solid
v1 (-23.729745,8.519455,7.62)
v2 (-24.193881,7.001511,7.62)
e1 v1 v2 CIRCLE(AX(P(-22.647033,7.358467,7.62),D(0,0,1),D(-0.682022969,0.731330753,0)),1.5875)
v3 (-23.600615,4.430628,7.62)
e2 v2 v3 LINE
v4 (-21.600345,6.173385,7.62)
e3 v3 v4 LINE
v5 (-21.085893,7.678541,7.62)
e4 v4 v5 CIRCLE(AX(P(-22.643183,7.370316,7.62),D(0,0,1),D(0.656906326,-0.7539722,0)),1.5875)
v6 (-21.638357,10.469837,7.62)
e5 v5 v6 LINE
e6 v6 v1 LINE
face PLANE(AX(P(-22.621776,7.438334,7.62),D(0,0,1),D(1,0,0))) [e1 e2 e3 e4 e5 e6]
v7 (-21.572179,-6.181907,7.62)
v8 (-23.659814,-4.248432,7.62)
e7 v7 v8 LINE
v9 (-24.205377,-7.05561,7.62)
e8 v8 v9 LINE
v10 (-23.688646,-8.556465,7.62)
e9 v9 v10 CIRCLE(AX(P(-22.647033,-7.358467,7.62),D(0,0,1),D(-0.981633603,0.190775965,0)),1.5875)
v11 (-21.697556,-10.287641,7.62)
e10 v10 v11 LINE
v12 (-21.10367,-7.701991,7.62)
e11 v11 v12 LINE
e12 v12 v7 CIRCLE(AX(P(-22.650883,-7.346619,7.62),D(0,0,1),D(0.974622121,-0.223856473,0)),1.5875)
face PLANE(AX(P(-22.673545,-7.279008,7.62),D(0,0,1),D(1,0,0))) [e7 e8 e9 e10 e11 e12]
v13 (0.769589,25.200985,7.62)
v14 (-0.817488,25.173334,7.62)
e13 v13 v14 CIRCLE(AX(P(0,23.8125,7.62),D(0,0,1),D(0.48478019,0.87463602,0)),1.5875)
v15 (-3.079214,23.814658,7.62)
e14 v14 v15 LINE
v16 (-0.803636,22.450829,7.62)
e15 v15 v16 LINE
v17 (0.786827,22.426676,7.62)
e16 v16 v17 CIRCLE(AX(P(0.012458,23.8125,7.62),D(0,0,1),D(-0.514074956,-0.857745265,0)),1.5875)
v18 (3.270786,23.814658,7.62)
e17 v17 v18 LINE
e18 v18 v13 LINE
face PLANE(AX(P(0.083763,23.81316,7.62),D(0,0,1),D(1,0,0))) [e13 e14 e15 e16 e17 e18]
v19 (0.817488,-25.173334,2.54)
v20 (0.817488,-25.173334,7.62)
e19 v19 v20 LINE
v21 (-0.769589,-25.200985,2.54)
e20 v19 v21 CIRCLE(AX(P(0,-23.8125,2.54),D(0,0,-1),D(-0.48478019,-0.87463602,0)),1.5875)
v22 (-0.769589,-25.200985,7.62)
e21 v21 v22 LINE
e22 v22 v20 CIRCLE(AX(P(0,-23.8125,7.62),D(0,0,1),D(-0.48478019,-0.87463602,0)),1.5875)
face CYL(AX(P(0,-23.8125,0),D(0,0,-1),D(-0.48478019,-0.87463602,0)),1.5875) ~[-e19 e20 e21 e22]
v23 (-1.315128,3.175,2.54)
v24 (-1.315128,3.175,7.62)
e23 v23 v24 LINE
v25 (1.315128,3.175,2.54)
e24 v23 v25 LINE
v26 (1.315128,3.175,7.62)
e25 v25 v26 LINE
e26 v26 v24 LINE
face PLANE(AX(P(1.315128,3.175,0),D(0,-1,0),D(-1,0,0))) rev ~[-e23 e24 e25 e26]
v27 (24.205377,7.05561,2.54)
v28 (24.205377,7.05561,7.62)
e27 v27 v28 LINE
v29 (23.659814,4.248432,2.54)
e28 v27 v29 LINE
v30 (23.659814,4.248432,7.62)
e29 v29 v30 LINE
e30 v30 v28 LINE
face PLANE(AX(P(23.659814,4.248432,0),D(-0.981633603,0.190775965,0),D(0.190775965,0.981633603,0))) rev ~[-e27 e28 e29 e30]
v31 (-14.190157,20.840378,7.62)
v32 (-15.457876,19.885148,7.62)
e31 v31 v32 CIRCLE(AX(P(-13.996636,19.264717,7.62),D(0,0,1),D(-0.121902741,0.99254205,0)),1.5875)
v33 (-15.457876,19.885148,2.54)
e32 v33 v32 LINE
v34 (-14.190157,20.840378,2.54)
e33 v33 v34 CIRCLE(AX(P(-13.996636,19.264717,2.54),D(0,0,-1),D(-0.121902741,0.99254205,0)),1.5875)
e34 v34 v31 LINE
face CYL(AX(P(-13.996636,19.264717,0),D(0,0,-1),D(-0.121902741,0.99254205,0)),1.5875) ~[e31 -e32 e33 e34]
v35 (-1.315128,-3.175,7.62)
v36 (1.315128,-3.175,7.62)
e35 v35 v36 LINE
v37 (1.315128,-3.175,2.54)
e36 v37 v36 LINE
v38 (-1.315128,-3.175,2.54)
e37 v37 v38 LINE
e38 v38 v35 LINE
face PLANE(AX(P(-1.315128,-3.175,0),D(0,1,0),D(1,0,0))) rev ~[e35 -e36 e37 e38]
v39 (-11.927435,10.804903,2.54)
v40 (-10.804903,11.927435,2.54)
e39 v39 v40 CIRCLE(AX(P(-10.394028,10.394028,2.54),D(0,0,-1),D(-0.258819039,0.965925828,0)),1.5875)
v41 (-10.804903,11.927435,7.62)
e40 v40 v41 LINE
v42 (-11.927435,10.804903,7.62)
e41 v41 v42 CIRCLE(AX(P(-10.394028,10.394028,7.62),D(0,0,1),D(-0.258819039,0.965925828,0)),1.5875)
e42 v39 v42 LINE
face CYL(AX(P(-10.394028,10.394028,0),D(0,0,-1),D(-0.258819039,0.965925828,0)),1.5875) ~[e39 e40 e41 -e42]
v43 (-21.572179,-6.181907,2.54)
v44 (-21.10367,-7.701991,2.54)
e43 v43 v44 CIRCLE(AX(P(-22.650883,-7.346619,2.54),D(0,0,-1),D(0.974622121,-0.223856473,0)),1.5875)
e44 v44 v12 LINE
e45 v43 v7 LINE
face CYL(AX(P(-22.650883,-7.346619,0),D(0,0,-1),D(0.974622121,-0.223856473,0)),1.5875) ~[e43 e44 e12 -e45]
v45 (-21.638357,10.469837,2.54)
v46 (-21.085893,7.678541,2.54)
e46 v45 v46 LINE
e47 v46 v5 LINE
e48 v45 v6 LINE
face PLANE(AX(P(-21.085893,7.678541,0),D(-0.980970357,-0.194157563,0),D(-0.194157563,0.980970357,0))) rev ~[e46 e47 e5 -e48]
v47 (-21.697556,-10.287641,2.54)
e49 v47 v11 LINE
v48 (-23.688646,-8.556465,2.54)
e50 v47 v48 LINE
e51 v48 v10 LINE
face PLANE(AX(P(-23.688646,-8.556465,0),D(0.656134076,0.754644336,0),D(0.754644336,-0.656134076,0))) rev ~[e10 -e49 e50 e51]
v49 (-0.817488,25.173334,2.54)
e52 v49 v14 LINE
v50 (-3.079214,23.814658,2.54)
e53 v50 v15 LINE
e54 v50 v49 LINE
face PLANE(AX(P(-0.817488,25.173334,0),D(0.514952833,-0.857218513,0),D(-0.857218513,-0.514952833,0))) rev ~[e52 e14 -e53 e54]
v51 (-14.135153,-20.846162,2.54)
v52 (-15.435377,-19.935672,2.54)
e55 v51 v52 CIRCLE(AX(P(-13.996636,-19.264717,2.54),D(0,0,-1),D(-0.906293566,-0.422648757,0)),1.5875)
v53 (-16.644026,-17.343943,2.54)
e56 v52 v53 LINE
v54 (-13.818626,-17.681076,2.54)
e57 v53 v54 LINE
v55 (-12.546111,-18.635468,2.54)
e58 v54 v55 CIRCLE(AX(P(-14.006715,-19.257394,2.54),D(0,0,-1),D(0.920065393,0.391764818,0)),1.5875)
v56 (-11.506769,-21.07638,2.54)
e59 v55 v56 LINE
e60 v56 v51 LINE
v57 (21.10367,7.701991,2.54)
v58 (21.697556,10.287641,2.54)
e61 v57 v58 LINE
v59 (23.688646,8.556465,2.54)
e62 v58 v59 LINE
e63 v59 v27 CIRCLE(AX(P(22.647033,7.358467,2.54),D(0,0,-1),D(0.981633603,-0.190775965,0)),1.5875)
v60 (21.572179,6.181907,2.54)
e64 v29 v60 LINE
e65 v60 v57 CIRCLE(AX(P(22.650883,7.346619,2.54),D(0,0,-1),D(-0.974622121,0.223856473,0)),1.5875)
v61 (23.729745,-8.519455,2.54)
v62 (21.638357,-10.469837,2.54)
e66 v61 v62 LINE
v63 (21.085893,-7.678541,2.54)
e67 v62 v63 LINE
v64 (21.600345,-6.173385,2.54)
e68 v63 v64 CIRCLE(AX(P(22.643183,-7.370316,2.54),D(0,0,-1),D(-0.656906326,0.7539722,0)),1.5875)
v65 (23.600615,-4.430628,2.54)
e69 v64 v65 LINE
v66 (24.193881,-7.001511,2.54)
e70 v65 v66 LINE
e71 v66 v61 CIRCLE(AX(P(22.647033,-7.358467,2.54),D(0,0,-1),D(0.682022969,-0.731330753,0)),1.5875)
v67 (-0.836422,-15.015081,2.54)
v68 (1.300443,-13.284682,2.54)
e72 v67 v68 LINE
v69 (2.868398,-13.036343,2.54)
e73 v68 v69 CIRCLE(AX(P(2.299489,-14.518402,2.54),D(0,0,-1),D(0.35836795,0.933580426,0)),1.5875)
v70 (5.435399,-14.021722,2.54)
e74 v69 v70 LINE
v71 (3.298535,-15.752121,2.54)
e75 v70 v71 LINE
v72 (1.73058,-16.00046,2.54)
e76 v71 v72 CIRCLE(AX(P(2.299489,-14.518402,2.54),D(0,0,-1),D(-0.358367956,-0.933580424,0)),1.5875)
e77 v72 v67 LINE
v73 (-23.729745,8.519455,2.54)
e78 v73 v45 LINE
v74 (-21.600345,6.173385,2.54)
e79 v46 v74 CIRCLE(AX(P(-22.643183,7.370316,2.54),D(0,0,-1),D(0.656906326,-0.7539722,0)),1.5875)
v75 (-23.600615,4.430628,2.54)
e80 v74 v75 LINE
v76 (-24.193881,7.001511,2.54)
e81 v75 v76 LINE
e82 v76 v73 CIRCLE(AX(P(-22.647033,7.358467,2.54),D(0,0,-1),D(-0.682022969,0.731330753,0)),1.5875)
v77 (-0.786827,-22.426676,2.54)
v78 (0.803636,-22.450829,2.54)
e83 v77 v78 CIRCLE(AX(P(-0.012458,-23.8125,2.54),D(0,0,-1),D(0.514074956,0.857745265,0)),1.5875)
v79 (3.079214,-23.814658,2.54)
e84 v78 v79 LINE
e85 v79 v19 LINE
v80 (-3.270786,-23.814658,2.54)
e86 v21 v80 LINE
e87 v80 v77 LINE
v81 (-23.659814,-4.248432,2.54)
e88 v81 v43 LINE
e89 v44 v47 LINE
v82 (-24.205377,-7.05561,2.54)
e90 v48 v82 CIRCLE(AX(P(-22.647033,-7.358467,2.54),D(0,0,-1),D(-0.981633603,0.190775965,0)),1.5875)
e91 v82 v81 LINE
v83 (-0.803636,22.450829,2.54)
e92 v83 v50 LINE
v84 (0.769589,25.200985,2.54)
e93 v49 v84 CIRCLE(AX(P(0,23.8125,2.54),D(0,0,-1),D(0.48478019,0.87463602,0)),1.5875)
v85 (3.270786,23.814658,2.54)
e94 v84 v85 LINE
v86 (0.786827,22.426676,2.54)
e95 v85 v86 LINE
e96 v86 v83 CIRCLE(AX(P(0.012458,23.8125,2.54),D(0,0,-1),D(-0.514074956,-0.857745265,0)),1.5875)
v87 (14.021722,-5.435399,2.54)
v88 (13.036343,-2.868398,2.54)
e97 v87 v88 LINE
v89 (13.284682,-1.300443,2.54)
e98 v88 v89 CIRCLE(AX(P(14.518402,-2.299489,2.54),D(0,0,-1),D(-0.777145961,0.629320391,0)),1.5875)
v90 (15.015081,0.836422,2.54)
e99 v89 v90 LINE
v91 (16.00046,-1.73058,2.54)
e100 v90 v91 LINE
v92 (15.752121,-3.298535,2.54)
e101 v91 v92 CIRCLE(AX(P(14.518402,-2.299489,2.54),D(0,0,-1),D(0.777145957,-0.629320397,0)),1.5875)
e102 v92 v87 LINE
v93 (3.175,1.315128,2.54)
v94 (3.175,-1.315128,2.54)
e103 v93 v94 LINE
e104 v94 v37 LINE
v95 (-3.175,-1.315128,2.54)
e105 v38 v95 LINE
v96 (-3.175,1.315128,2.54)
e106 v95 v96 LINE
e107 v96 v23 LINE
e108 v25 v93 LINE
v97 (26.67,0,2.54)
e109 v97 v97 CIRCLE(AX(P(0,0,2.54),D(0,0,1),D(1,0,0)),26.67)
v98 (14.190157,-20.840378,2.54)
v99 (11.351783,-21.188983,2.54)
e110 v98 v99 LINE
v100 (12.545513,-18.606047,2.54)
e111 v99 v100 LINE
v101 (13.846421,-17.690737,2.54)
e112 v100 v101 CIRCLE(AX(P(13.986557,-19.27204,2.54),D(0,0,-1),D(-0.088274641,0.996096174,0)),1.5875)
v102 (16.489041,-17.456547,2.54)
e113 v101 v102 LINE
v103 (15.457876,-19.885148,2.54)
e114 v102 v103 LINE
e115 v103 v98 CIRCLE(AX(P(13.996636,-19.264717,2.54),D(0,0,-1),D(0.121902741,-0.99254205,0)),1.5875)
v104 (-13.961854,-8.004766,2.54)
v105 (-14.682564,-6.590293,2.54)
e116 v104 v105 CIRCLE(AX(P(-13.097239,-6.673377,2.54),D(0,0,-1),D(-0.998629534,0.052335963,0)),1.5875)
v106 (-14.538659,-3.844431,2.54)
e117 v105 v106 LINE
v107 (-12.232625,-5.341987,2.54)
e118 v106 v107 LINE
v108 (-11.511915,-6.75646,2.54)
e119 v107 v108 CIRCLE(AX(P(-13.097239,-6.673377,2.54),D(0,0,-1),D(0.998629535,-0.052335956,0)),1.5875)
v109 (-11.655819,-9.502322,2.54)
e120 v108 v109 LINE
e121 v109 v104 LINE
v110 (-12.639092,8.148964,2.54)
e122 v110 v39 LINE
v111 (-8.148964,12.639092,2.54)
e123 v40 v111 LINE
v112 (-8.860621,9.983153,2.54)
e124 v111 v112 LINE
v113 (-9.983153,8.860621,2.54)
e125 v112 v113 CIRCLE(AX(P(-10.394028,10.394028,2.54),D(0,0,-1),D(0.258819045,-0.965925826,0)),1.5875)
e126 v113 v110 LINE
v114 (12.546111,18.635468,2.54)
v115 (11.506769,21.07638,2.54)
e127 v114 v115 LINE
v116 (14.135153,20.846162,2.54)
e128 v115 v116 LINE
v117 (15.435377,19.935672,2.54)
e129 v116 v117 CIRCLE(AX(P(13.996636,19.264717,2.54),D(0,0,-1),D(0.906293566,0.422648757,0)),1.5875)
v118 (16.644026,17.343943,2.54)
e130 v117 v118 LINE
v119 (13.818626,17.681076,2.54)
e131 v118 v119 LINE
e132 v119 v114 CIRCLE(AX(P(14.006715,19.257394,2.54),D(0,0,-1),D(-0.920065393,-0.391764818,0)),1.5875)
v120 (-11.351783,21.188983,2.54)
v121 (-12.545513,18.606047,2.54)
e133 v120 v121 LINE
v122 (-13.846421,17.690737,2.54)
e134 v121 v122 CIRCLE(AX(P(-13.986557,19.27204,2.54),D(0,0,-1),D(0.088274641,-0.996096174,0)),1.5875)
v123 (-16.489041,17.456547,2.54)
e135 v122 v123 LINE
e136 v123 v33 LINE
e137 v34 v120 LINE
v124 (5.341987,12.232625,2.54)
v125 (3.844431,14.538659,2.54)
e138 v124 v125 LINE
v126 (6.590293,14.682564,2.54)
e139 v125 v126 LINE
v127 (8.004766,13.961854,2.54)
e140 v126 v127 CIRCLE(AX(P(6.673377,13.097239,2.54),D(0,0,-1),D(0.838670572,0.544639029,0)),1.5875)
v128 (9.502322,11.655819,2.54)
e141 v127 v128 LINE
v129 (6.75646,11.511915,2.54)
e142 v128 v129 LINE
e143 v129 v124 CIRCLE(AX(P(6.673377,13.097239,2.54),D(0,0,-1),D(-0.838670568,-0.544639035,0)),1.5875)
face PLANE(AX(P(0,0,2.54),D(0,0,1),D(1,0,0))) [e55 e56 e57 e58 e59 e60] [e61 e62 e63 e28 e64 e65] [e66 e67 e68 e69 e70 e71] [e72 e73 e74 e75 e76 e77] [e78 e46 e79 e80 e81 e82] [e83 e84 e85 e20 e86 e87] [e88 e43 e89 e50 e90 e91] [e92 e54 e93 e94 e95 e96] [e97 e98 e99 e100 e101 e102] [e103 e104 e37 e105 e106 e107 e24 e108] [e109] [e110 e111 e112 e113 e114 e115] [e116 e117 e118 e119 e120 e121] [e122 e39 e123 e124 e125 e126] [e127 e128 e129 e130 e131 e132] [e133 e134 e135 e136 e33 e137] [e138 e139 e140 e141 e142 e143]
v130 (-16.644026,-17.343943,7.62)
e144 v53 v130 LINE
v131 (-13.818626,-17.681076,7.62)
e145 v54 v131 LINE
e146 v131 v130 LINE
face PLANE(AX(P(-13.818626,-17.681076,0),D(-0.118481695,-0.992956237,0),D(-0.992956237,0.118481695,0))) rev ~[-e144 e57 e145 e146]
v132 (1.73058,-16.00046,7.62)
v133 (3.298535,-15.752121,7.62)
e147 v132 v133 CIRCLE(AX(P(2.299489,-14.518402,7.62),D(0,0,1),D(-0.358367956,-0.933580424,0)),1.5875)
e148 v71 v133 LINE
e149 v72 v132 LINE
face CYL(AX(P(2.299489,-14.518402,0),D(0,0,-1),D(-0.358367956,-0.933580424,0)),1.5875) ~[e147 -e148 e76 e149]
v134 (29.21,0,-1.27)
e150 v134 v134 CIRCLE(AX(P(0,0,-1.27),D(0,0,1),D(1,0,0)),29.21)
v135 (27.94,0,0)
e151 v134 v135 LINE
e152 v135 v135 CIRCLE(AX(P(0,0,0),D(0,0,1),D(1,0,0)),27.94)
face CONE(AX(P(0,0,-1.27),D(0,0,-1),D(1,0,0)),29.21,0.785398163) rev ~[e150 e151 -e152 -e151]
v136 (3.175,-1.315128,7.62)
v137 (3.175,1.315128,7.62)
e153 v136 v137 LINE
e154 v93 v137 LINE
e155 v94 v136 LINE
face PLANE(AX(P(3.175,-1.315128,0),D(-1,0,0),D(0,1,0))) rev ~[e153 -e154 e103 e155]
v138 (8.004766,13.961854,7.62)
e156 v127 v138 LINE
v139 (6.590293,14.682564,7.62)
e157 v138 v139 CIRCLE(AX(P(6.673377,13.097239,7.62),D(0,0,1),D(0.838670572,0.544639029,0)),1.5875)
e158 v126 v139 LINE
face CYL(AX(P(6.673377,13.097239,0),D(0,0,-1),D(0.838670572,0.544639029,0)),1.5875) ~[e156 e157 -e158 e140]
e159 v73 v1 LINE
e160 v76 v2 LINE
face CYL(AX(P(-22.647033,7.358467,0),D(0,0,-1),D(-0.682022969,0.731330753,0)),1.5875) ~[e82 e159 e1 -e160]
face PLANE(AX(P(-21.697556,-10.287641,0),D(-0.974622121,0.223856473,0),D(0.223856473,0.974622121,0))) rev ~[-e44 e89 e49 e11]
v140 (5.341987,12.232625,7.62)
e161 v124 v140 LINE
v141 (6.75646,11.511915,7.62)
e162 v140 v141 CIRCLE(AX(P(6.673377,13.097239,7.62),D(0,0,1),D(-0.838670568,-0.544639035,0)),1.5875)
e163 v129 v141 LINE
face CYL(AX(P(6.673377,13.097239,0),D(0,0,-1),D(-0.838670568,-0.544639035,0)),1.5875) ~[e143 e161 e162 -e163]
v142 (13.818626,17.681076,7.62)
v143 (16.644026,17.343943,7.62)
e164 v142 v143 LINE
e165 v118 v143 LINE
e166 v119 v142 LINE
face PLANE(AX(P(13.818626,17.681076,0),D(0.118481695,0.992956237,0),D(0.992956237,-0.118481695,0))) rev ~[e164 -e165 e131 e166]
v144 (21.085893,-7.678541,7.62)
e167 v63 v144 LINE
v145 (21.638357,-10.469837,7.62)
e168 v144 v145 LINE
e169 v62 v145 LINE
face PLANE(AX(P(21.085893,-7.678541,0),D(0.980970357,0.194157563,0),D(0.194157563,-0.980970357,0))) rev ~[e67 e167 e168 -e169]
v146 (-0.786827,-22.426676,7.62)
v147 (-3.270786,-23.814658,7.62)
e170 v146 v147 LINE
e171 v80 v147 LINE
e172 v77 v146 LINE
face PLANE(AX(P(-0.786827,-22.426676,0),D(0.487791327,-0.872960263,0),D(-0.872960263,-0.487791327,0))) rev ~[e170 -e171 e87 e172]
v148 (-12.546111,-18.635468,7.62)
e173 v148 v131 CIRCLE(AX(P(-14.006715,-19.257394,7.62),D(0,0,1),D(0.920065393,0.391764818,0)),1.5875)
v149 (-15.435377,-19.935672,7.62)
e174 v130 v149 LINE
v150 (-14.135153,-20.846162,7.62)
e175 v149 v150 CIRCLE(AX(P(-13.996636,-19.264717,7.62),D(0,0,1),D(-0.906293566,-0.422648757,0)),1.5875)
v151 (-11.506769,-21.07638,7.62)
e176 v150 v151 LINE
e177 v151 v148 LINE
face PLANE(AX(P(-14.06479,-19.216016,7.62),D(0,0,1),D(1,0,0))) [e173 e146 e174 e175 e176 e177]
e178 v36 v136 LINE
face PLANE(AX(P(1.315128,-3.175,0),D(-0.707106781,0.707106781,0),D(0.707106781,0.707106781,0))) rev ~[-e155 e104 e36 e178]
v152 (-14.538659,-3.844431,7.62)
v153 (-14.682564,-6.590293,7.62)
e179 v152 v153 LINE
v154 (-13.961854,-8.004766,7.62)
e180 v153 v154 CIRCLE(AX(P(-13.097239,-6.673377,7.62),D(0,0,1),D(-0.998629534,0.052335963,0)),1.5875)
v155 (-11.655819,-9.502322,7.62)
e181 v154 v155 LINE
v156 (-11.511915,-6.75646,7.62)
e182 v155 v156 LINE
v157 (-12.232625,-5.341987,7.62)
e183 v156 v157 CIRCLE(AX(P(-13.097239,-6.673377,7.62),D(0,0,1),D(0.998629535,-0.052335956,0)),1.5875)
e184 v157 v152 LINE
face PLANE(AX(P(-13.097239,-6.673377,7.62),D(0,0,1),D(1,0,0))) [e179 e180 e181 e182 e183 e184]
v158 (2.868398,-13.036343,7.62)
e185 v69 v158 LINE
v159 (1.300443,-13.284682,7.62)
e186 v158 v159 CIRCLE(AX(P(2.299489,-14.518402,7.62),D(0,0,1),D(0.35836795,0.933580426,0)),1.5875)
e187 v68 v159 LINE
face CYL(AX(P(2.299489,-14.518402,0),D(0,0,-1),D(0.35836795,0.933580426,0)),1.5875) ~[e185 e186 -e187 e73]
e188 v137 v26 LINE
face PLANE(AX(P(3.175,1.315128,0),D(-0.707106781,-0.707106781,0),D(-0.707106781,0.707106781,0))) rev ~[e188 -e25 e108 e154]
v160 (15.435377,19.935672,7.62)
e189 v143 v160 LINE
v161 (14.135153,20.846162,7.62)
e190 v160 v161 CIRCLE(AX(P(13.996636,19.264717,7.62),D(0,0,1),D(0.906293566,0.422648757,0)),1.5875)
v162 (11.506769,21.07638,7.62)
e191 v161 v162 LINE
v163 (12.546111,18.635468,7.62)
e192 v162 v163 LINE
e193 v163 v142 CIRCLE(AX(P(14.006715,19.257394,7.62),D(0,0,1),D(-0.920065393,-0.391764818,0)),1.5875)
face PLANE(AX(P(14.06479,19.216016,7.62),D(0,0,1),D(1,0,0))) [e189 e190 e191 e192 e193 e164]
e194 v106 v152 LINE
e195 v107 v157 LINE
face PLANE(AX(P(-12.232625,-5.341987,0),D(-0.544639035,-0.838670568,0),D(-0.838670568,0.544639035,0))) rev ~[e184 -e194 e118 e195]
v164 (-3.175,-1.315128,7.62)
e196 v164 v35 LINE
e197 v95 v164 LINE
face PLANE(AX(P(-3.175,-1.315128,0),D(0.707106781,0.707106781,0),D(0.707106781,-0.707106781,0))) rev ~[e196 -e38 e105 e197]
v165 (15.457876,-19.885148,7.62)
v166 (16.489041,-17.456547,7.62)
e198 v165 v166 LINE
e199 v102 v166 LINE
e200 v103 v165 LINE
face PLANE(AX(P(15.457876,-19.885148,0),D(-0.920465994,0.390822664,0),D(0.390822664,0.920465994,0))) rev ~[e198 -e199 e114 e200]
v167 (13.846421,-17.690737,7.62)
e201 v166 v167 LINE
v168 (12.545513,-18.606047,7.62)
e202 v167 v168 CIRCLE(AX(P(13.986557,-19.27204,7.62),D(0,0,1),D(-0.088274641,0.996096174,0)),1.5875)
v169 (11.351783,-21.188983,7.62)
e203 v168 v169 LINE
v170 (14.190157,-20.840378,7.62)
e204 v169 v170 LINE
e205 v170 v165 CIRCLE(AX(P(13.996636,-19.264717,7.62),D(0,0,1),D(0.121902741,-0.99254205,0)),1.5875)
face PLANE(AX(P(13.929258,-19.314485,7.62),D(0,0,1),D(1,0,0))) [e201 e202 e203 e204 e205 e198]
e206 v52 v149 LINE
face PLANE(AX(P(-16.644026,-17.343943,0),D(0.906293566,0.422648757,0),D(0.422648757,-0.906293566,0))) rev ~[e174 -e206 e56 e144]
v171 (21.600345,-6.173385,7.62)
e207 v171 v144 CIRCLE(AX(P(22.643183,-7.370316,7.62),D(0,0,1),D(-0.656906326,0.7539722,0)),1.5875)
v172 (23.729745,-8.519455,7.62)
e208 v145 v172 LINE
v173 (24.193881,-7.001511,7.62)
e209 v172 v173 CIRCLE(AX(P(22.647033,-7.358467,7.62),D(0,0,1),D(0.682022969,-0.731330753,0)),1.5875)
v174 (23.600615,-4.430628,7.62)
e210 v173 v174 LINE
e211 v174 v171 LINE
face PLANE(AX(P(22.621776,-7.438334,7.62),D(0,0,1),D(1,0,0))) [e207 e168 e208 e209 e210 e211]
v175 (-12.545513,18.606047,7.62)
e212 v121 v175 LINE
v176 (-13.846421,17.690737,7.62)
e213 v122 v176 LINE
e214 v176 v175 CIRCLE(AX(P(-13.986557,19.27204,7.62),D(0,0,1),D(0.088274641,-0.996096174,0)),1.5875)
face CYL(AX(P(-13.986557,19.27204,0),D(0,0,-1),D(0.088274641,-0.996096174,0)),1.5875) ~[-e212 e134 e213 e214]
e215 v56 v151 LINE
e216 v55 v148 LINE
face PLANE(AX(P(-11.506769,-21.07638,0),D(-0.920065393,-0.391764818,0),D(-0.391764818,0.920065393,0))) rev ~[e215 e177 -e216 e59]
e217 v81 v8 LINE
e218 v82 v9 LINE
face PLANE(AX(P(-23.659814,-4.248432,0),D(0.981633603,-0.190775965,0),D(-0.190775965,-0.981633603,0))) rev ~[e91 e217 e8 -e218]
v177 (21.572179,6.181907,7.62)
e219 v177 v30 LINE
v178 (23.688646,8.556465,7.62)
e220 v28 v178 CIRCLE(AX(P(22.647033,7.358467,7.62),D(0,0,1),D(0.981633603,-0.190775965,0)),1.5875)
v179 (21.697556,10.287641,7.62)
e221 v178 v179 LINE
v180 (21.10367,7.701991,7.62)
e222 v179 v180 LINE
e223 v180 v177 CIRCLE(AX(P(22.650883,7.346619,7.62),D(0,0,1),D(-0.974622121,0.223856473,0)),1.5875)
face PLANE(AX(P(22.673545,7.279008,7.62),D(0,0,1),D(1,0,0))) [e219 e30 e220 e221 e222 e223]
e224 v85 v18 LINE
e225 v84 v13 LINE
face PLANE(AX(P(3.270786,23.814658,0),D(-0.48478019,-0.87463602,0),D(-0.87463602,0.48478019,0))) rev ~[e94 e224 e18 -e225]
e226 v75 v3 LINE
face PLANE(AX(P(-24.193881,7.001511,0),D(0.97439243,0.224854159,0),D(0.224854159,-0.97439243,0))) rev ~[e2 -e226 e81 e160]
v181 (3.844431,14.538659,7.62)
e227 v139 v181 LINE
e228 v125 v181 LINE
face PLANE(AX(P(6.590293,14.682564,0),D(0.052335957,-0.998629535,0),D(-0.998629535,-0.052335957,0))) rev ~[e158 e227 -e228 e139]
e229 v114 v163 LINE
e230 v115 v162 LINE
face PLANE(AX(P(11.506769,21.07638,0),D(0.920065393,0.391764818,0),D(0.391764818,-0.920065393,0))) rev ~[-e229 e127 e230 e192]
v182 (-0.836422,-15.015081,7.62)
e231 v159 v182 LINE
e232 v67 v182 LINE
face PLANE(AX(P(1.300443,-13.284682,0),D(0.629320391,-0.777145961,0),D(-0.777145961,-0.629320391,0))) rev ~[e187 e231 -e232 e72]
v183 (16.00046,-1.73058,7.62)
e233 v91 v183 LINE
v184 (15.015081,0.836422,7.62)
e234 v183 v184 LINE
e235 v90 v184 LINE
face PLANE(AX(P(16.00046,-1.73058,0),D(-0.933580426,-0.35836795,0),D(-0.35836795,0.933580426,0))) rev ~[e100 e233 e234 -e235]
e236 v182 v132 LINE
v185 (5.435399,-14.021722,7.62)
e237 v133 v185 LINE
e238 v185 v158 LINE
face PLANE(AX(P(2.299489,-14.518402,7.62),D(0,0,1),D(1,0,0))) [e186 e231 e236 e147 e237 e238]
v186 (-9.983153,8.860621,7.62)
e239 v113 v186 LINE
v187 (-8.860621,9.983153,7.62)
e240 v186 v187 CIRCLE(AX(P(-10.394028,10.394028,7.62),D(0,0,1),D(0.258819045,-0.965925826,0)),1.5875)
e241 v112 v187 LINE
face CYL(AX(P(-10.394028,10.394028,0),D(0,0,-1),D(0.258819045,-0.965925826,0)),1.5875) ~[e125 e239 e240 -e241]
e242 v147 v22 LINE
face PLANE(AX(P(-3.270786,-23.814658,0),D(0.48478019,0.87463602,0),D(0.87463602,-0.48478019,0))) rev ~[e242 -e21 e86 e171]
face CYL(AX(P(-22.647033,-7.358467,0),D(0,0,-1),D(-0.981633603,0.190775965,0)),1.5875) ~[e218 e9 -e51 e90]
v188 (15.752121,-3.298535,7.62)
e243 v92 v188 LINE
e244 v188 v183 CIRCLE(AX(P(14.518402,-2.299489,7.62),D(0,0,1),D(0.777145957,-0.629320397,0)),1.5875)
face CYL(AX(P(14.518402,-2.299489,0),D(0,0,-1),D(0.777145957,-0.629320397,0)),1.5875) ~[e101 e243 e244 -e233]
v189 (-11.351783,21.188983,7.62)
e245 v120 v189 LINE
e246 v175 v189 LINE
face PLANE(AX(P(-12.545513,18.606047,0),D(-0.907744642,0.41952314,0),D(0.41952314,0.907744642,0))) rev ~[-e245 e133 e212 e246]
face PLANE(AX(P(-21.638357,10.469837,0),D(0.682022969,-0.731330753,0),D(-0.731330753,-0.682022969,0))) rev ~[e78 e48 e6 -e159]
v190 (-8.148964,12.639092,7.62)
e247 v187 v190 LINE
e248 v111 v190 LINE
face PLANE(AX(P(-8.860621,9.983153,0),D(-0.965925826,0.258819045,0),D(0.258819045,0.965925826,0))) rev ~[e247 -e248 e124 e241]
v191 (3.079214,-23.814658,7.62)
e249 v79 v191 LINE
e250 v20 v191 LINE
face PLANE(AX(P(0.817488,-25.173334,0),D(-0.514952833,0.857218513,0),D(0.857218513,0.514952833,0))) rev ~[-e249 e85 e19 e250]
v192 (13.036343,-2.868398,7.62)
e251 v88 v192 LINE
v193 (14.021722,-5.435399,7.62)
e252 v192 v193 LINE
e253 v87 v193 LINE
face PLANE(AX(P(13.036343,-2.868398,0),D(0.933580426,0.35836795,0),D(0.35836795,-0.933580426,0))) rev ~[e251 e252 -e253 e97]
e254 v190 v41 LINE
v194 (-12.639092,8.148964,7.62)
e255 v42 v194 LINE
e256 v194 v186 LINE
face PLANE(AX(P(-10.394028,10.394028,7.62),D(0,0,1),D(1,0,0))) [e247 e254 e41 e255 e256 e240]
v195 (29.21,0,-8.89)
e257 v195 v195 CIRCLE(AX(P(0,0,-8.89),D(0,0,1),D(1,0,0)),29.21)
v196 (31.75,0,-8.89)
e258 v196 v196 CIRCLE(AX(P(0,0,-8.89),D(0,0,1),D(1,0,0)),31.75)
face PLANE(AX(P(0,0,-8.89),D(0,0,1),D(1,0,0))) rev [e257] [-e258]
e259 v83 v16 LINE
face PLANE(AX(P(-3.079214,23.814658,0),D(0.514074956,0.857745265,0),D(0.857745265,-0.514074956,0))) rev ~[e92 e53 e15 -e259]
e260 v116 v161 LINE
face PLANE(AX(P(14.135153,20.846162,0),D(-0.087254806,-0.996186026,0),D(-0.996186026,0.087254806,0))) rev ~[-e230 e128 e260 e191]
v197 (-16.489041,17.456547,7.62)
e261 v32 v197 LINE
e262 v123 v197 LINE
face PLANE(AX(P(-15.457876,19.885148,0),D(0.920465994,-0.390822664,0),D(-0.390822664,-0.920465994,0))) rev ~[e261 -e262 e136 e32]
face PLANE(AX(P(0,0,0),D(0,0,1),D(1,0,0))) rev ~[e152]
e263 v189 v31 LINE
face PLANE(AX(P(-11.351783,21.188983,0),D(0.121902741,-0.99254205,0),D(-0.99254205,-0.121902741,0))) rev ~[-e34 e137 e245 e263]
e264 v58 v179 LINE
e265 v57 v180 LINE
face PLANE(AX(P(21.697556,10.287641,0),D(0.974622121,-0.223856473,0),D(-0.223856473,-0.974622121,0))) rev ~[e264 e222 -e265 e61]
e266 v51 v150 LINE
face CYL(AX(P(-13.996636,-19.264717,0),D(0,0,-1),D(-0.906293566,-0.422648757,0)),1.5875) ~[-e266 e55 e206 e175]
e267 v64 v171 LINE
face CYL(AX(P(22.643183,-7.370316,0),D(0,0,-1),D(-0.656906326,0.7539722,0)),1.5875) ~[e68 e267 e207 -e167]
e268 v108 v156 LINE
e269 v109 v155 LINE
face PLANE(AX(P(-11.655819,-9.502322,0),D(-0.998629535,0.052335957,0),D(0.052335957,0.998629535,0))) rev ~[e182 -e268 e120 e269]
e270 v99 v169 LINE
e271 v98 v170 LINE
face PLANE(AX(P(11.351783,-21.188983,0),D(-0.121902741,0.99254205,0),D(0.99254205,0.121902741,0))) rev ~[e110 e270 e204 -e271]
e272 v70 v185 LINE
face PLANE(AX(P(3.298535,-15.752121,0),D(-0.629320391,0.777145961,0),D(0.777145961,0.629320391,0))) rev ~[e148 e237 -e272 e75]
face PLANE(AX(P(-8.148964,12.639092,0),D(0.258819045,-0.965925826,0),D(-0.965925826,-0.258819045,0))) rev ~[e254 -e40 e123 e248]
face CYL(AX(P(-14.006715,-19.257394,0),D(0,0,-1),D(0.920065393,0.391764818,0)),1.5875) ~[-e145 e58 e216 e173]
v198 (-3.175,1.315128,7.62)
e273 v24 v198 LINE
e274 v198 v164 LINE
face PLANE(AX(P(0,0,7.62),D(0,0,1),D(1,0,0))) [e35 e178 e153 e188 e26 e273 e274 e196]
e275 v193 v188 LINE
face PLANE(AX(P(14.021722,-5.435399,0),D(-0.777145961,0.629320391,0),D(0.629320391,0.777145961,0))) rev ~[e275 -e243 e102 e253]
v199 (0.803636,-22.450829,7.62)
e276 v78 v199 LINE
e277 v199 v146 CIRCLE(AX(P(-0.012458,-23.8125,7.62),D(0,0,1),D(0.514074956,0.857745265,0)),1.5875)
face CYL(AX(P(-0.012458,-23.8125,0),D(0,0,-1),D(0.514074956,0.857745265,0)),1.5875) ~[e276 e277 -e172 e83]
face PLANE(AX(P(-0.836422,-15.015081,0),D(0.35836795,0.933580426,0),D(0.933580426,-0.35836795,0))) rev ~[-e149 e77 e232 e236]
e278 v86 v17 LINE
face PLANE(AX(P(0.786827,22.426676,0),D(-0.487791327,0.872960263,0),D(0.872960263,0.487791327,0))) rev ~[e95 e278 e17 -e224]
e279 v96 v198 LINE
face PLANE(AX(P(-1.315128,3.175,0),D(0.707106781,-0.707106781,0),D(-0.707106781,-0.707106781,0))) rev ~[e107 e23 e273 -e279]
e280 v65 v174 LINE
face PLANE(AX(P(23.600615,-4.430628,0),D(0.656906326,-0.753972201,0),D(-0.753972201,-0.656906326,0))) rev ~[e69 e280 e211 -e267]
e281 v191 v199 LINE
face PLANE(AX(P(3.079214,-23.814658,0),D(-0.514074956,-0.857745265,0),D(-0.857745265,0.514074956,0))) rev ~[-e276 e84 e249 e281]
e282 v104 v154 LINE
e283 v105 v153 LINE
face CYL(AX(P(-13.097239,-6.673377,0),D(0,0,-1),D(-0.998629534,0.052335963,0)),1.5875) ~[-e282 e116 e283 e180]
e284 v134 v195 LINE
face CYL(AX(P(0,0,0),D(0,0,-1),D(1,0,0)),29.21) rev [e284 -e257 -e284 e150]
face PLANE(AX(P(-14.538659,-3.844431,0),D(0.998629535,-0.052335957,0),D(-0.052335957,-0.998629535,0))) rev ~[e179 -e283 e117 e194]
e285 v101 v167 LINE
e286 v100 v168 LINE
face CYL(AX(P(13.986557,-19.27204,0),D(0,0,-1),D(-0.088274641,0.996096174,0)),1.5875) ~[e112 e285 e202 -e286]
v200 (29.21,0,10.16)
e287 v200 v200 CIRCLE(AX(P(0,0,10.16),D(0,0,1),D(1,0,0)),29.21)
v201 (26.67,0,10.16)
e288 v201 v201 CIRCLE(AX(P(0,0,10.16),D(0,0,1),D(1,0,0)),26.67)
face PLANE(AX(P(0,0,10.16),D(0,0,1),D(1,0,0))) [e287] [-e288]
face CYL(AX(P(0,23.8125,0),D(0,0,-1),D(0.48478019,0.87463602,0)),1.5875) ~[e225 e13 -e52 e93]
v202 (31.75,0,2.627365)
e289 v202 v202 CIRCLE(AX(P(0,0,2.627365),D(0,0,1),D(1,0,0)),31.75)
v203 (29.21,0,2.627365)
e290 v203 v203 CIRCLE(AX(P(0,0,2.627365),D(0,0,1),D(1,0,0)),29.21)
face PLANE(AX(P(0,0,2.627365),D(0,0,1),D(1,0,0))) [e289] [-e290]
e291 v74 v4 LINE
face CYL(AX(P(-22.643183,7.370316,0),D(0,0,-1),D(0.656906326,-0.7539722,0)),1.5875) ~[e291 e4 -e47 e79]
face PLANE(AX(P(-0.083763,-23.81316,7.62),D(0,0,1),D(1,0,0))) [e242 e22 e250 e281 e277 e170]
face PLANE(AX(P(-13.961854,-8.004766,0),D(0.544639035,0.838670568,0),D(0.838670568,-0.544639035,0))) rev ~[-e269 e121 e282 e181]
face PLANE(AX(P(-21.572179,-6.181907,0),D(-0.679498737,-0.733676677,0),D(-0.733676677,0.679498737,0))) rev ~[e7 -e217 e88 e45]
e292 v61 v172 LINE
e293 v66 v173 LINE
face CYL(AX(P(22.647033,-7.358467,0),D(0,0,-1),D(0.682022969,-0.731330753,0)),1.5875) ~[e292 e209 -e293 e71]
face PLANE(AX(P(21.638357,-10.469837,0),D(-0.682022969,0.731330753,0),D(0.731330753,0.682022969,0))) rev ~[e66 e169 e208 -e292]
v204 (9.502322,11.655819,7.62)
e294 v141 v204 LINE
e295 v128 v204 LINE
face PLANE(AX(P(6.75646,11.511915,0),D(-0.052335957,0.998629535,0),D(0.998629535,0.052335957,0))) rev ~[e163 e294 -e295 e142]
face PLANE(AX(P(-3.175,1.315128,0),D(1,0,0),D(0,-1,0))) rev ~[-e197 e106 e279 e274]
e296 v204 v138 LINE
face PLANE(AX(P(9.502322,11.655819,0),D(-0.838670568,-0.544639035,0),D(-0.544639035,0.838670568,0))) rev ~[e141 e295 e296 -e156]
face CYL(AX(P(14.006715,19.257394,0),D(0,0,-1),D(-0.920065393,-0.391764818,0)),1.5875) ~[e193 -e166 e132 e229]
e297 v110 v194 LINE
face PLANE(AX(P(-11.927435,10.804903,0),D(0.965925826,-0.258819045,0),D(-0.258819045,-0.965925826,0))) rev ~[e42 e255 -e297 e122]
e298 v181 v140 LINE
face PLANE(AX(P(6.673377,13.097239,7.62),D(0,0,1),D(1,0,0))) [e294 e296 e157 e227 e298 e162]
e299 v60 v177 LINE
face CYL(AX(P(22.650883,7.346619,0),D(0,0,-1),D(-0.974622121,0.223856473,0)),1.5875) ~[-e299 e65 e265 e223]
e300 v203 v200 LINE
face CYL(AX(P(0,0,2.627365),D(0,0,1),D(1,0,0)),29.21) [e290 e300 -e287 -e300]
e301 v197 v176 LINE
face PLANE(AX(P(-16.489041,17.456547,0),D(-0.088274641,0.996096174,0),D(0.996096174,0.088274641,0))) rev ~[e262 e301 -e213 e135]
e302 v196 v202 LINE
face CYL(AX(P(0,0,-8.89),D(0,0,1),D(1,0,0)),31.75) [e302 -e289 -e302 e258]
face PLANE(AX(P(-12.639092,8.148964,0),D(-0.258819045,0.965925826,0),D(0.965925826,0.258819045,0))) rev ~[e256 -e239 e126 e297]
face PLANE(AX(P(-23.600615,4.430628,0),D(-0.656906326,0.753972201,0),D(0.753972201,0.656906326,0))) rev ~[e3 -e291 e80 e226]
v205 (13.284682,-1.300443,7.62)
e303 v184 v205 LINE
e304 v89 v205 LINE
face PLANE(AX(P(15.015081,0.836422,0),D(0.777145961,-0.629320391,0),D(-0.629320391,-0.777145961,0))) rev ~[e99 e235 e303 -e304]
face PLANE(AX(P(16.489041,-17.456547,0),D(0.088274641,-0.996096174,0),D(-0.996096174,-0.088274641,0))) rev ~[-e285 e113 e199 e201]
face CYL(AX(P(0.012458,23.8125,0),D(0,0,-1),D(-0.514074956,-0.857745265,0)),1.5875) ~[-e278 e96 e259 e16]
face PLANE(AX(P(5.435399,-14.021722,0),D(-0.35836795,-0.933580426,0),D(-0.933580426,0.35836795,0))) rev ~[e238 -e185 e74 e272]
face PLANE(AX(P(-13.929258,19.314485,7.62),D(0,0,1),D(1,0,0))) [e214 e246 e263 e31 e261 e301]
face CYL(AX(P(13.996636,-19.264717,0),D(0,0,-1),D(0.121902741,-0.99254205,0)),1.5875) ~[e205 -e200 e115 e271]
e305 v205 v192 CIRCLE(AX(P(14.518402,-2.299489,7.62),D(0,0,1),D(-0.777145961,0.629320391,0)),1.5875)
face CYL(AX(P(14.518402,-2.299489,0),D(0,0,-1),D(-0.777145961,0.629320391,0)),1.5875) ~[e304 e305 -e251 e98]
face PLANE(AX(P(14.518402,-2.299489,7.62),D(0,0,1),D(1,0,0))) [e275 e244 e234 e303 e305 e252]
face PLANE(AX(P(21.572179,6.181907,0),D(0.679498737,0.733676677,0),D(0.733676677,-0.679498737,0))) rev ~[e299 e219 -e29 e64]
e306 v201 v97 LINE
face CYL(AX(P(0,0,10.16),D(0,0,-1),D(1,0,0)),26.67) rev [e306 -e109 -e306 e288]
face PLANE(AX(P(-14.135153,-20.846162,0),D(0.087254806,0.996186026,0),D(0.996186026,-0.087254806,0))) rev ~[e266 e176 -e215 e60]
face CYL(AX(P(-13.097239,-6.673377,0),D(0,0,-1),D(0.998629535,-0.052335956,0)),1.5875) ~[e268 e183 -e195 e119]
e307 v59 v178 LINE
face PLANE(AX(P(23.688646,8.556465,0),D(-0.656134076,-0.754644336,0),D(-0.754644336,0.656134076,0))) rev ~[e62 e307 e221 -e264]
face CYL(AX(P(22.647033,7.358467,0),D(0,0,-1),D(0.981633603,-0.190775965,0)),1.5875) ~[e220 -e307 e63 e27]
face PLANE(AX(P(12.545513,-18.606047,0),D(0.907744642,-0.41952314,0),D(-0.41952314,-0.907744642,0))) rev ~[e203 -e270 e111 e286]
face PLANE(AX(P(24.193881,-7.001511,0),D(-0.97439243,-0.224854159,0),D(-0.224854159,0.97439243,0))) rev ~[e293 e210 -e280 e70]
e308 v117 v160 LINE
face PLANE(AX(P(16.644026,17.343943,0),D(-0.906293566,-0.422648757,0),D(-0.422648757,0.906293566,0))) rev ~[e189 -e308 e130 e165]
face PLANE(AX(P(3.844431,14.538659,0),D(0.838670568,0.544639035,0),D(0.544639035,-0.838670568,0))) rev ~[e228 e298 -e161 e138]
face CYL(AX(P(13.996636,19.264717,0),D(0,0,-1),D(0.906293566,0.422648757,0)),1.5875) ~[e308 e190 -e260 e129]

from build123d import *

# Parameters (mm, degrees)
F3_DEPTH = 7.62
F4_DEPTH = 7.62
F5_SIZE2 = 1.27
F5_SIZE  = 1.27


with BuildPart() as f1:
    # F0 (on Front) → F1 (revolve)
    with BuildSketch(Plane.XZ):
        Polygon((0, 2.54), (0, 0), (29.21, 0), (29.21, -8.89), (31.75, -8.89), (31.75, 2.627364982), (29.21, 2.627364982), (29.21, 10.16), (26.67, 10.16), (26.67, 2.54), align=None)
    revolve(axis=Axis((0, 0, 16.0585250768), (0, 0, 1)))

    # F2 (on Top) → F3 (join)
    with BuildSketch(Plane.XY):
        Polygon((1.3151280605, 3.175), (-1.3151280605, 3.175), (-3.175, 1.3151280605), (-3.175, -1.3151280605), (-1.3151280605, -3.175), (1.3151280605, -3.175), (3.175, -1.3151280605), (3.175, 1.3151280605), align=None)
        with BuildLine():
            ThreePointArc((0.7695885521, 25.2009846814), (-0.0276534791, 25.3997591266), (-0.817487623, 25.1733343897))
            Line((-0.817487623, 25.1733343897), (-3.0792138768, 23.8146582472))
            Line((-3.0792138768, 23.8146582472), (-0.8036357163, 22.4508293919))
            ThreePointArc((-0.8036357163, 22.4508293919), (-0.0116477599, 22.2251830345), (0.786827008, 22.426675582))
            Line((0.786827008, 22.426675582), (3.2707861232, 23.8146582472))
            Line((3.2707861232, 23.8146582472), (0.7695885521, 25.2009846814))
        make_face()
        with BuildLine():
            Line((-12.5455127439, 18.6060469845), (-11.3517833474, 21.1889830838))
            Line((-11.3517833474, 21.1889830838), (-14.1901569216, 20.8403776835))
            ThreePointArc((-14.1901569216, 20.8403776835), (-14.951975961, 20.5325824793), (-15.457876085, 19.8851481576))
            Line((-15.457876085, 19.8851481576), (-16.4890412617, 17.4565467318))
            Line((-16.4890412617, 17.4565467318), (-13.8464213701, 17.6907372936))
            ThreePointArc((-13.8464213701, 17.6907372936), (-13.0730580529, 17.9737043965), (-12.5455127439, 18.6060469845))
        make_face()
        with BuildLine():
            Line((-21.085893034, 7.6785408353), (-21.6383574123, 10.4698365695))
            Line((-21.6383574123, 10.4698365695), (-23.729744757, 8.5194547489))
            ThreePointArc((-23.729744757, 8.5194547489), (-24.1651518247, 7.8226572017), (-24.1938812764, 7.0015112006))
            Line((-24.1938812764, 7.0015112006), (-23.6006153266, 4.430627691))
            Line((-23.6006153266, 4.430627691), (-21.600344683, 6.1733848352))
            ThreePointArc((-21.600344683, 6.1733848352), (-21.1410045066, 6.8568815828), (-21.085893034, 7.6785408353))
        make_face()
        with BuildLine():
            Line((-21.5721788682, -6.181906929), (-23.6598144064, -4.2484316577))
            Line((-23.6598144064, -4.2484316577), (-24.2053766396, -7.0556103342))
            ThreePointArc((-24.2053766396, -7.0556103342), (-24.1480610347, -7.8752572447), (-23.68864614, -8.5564650624))
            Line((-23.68864614, -8.5564650624), (-21.6975564921, -10.2876405362))
            Line((-21.6975564921, -10.2876405362), (-21.1036704958, -7.7019908046))
            ThreePointArc((-21.1036704958, -7.7019908046), (-21.133805795, -6.8790369387), (-21.5721788682, -6.181906929))
        make_face()
        with BuildLine():
            Line((-13.8186255861, -17.6810763618), (-16.6440264647, -17.3439433906))
            Line((-16.6440264647, -17.3439433906), (-15.4353773563, -19.935672081))
            ThreePointArc((-15.4353773563, -19.935672081), (-14.9072316919, -20.5650910937), (-14.1351533255, -20.8461624951))
            Line((-14.1351533255, -20.8461624951), (-11.5067685504, -21.0763797426))
            Line((-11.5067685504, -21.0763797426), (-12.5461114665, -18.6354677381))
            ThreePointArc((-12.5461114665, -18.6354677381), (-13.0542115814, -17.9873971595), (-13.8186255861, -17.6810763618))
        make_face()
        with BuildLine():
            Line((-0.786827008, -22.426675582), (-3.2707861232, -23.8146582472))
            Line((-3.2707861232, -23.8146582472), (-0.7695885521, -25.2009846814))
            ThreePointArc((-0.7695885521, -25.2009846814), (0.0276534791, -25.3997591266), (0.817487623, -25.1733343897))
            Line((0.817487623, -25.1733343897), (3.0792138768, -23.8146582472))
            Line((3.0792138768, -23.8146582472), (0.8036357163, -22.4508293919))
            ThreePointArc((0.8036357163, -22.4508293919), (0.0116477599, -22.2251830345), (-0.786827008, -22.426675582))
        make_face()
        with BuildLine():
            Line((12.5455127439, -18.6060469845), (11.3517833474, -21.1889830838))
            Line((11.3517833474, -21.1889830838), (14.1901569216, -20.8403776835))
            ThreePointArc((14.1901569216, -20.8403776835), (14.951975961, -20.5325824793), (15.457876085, -19.8851481576))
            Line((15.457876085, -19.8851481576), (16.4890412617, -17.4565467318))
            Line((16.4890412617, -17.4565467318), (13.8464213701, -17.6907372936))
            ThreePointArc((13.8464213701, -17.6907372936), (13.0730580529, -17.9737043965), (12.5455127439, -18.6060469845))
        make_face()
        with BuildLine():
            Line((21.085893034, -7.6785408353), (21.6383574123, -10.4698365695))
            Line((21.6383574123, -10.4698365695), (23.729744757, -8.5194547489))
            ThreePointArc((23.729744757, -8.5194547489), (24.1651518247, -7.8226572017), (24.1938812764, -7.0015112006))
            Line((24.1938812764, -7.0015112006), (23.6006153266, -4.430627691))
            Line((23.6006153266, -4.430627691), (21.600344683, -6.1733848352))
            ThreePointArc((21.600344683, -6.1733848352), (21.1410045066, -6.8568815828), (21.085893034, -7.6785408353))
        make_face()
        with BuildLine():
            Line((21.5721788682, 6.181906929), (23.6598144064, 4.2484316577))
            Line((23.6598144064, 4.2484316577), (24.2053766396, 7.0556103342))
            ThreePointArc((24.2053766396, 7.0556103342), (24.1480610347, 7.8752572447), (23.68864614, 8.5564650624))
            Line((23.68864614, 8.5564650624), (21.6975564921, 10.2876405362))
            Line((21.6975564921, 10.2876405362), (21.1036704958, 7.7019908046))
            ThreePointArc((21.1036704958, 7.7019908046), (21.133805795, 6.8790369387), (21.5721788682, 6.181906929))
        make_face()
        with BuildLine():
            Line((13.8186255861, 17.6810763618), (16.6440264647, 17.3439433906))
            Line((16.6440264647, 17.3439433906), (15.4353773563, 19.935672081))
            ThreePointArc((15.4353773563, 19.935672081), (14.9072316919, 20.5650910937), (14.1351533255, 20.8461624951))
            Line((14.1351533255, 20.8461624951), (11.5067685504, 21.0763797426))
            Line((11.5067685504, 21.0763797426), (12.5461114665, 18.6354677381))
            ThreePointArc((12.5461114665, 18.6354677381), (13.0542115814, 17.9873971595), (13.8186255861, 17.6810763618))
        make_face()
        with BuildLine():
            Line((-11.927435173, 10.8049031515), (-12.6390919528, 8.1489638888))
            Line((-12.6390919565, 8.1489638901), (-9.9831526938, 8.8606206699))
            ThreePointArc((-9.9831526938, 8.8606206699), (-9.2714959087, 9.2714959076), (-8.8606206755, 9.9831526953))
            Line((-8.8606206699, 9.9831526938), (-8.1489638914, 12.6390919517))
            Line((-8.1489638944, 12.6390919548), (-10.8049031524, 11.9274351763))
            ThreePointArc((-10.8049031511, 11.9274351713), (-11.516559939, 11.5165599379), (-11.9274351769, 10.8049031526))
        make_face()
        with BuildLine():
            Line((-12.2326247903, -5.3419871867), (-14.5386590897, -3.8444310034))
            Line((-14.5386590936, -3.8444310054), (-14.6825636438, -6.5902933823))
            ThreePointArc((-14.6825636386, -6.5902933825), (-14.5117121122, -7.3940866377), (-13.9618537201, -8.0047662509))
            Line((-13.961853718, -8.0047662476), (-11.6558194144, -9.5023224336))
            Line((-11.6558194167, -9.5023224367), (-11.5119148663, -6.7564600549))
            ThreePointArc((-11.5119148663, -6.7564600549), (-11.6827663979, -5.9526668011), (-12.2326247934, -5.3419871916))
        make_face()
        with BuildLine():
            Line((1.3004427779, -13.2846823426), (-0.8364215769, -15.0150809792))
            Line((-0.8364215762, -15.0150809835), (1.7305797786, -16.0004604823))
            ThreePointArc((1.7305797804, -16.0004604775), (2.5478286188, -16.0863567958), (3.2985350319, -15.7521207676))
            Line((3.2985350294, -15.7521207646), (5.435399388, -14.0217221248))
            Line((5.4353993902, -14.021722128), (2.8683980308, -13.0363426274))
            ThreePointArc((2.8683980308, -13.0363426274), (2.0511491922, -12.9504463144), (1.3004427815, -13.2846823471))
        make_face()
        with BuildLine():
            Line((13.0363426274, -2.8683980308), (14.0217221262, -5.4353993856))
            Line((14.0217221306, -5.4353993863), (15.7521207672, -3.2985350315))
            ThreePointArc((15.7521207631, -3.2985350282), (16.0863567961, -2.5478286172), (16.0004604829, -1.7305797784))
            Line((16.0004604792, -1.7305797798), (15.0150809786, 0.8364215797))
            Line((15.0150809823, 0.8364215808), (13.2846823426, -1.3004427779))
            ThreePointArc((13.2846823426, -1.3004427779), (12.9504463147, -2.0511491907), (13.0363426328, -2.8683980287))
        make_face()
        with BuildLine():
            Line((6.7564600549, 11.5119148663), (9.5023224318, 11.6558194165))
            Line((9.5023224337, 11.6558194204), (8.0047662504, 13.9618537198))
            ThreePointArc((8.0047662461, 13.961853717), (7.3940866364, 14.5117121129), (6.5902933822, 14.6825636444))
            Line((6.5902933824, 14.6825636404), (3.8444310006, 14.53865909))
            Line((3.8444310007, 14.5386590939), (5.3419871867, 12.2326247903))
            ThreePointArc((5.3419871867, 12.2326247903), (5.9526667997, 11.6827663986), (6.7564600546, 11.5119148721))
        make_face()
    extrude(amount=F3_DEPTH)

    # F2 (on Top) → F4 (join)
    with BuildSketch(Plane.XY):
        Polygon((1.3151280605, 3.175), (-1.3151280605, 3.175), (-3.175, 1.3151280605), (-3.175, -1.3151280605), (-1.3151280605, -3.175), (1.3151280605, -3.175), (3.175, -1.3151280605), (3.175, 1.3151280605), align=None)
        with BuildLine():
            ThreePointArc((0.7695885521, 25.2009846814), (-0.0276534791, 25.3997591266), (-0.817487623, 25.1733343897))
            Line((-0.817487623, 25.1733343897), (-3.0792138768, 23.8146582472))
            Line((-3.0792138768, 23.8146582472), (-0.8036357163, 22.4508293919))
            ThreePointArc((-0.8036357163, 22.4508293919), (-0.0116477599, 22.2251830345), (0.786827008, 22.426675582))
            Line((0.786827008, 22.426675582), (3.2707861232, 23.8146582472))
            Line((3.2707861232, 23.8146582472), (0.7695885521, 25.2009846814))
        make_face()
        with BuildLine():
            Line((-12.5455127439, 18.6060469845), (-11.3517833474, 21.1889830838))
            Line((-11.3517833474, 21.1889830838), (-14.1901569216, 20.8403776835))
            ThreePointArc((-14.1901569216, 20.8403776835), (-14.951975961, 20.5325824793), (-15.457876085, 19.8851481576))
            Line((-15.457876085, 19.8851481576), (-16.4890412617, 17.4565467318))
            Line((-16.4890412617, 17.4565467318), (-13.8464213701, 17.6907372936))
            ThreePointArc((-13.8464213701, 17.6907372936), (-13.0730580529, 17.9737043965), (-12.5455127439, 18.6060469845))
        make_face()
        with BuildLine():
            Line((-21.085893034, 7.6785408353), (-21.6383574123, 10.4698365695))
            Line((-21.6383574123, 10.4698365695), (-23.729744757, 8.5194547489))
            ThreePointArc((-23.729744757, 8.5194547489), (-24.1651518247, 7.8226572017), (-24.1938812764, 7.0015112006))
            Line((-24.1938812764, 7.0015112006), (-23.6006153266, 4.430627691))
            Line((-23.6006153266, 4.430627691), (-21.600344683, 6.1733848352))
            ThreePointArc((-21.600344683, 6.1733848352), (-21.1410045066, 6.8568815828), (-21.085893034, 7.6785408353))
        make_face()
        with BuildLine():
            Line((-21.5721788682, -6.181906929), (-23.6598144064, -4.2484316577))
            Line((-23.6598144064, -4.2484316577), (-24.2053766396, -7.0556103342))
            ThreePointArc((-24.2053766396, -7.0556103342), (-24.1480610347, -7.8752572447), (-23.68864614, -8.5564650624))
            Line((-23.68864614, -8.5564650624), (-21.6975564921, -10.2876405362))
            Line((-21.6975564921, -10.2876405362), (-21.1036704958, -7.7019908046))
            ThreePointArc((-21.1036704958, -7.7019908046), (-21.133805795, -6.8790369387), (-21.5721788682, -6.181906929))
        make_face()
        with BuildLine():
            Line((-13.8186255861, -17.6810763618), (-16.6440264647, -17.3439433906))
            Line((-16.6440264647, -17.3439433906), (-15.4353773563, -19.935672081))
            ThreePointArc((-15.4353773563, -19.935672081), (-14.9072316919, -20.5650910937), (-14.1351533255, -20.8461624951))
            Line((-14.1351533255, -20.8461624951), (-11.5067685504, -21.0763797426))
            Line((-11.5067685504, -21.0763797426), (-12.5461114665, -18.6354677381))
            ThreePointArc((-12.5461114665, -18.6354677381), (-13.0542115814, -17.9873971595), (-13.8186255861, -17.6810763618))
        make_face()
        with BuildLine():
            Line((-0.786827008, -22.426675582), (-3.2707861232, -23.8146582472))
            Line((-3.2707861232, -23.8146582472), (-0.7695885521, -25.2009846814))
            ThreePointArc((-0.7695885521, -25.2009846814), (0.0276534791, -25.3997591266), (0.817487623, -25.1733343897))
            Line((0.817487623, -25.1733343897), (3.0792138768, -23.8146582472))
            Line((3.0792138768, -23.8146582472), (0.8036357163, -22.4508293919))
            ThreePointArc((0.8036357163, -22.4508293919), (0.0116477599, -22.2251830345), (-0.786827008, -22.426675582))
        make_face()
        with BuildLine():
            Line((12.5455127439, -18.6060469845), (11.3517833474, -21.1889830838))
            Line((11.3517833474, -21.1889830838), (14.1901569216, -20.8403776835))
            ThreePointArc((14.1901569216, -20.8403776835), (14.951975961, -20.5325824793), (15.457876085, -19.8851481576))
            Line((15.457876085, -19.8851481576), (16.4890412617, -17.4565467318))
            Line((16.4890412617, -17.4565467318), (13.8464213701, -17.6907372936))
            ThreePointArc((13.8464213701, -17.6907372936), (13.0730580529, -17.9737043965), (12.5455127439, -18.6060469845))
        make_face()
        with BuildLine():
            Line((21.085893034, -7.6785408353), (21.6383574123, -10.4698365695))
            Line((21.6383574123, -10.4698365695), (23.729744757, -8.5194547489))
            ThreePointArc((23.729744757, -8.5194547489), (24.1651518247, -7.8226572017), (24.1938812764, -7.0015112006))
            Line((24.1938812764, -7.0015112006), (23.6006153266, -4.430627691))
            Line((23.6006153266, -4.430627691), (21.600344683, -6.1733848352))
            ThreePointArc((21.600344683, -6.1733848352), (21.1410045066, -6.8568815828), (21.085893034, -7.6785408353))
        make_face()
        with BuildLine():
            Line((21.5721788682, 6.181906929), (23.6598144064, 4.2484316577))
            Line((23.6598144064, 4.2484316577), (24.2053766396, 7.0556103342))
            ThreePointArc((24.2053766396, 7.0556103342), (24.1480610347, 7.8752572447), (23.68864614, 8.5564650624))
            Line((23.68864614, 8.5564650624), (21.6975564921, 10.2876405362))
            Line((21.6975564921, 10.2876405362), (21.1036704958, 7.7019908046))
            ThreePointArc((21.1036704958, 7.7019908046), (21.133805795, 6.8790369387), (21.5721788682, 6.181906929))
        make_face()
        with BuildLine():
            Line((13.8186255861, 17.6810763618), (16.6440264647, 17.3439433906))
            Line((16.6440264647, 17.3439433906), (15.4353773563, 19.935672081))
            ThreePointArc((15.4353773563, 19.935672081), (14.9072316919, 20.5650910937), (14.1351533255, 20.8461624951))
            Line((14.1351533255, 20.8461624951), (11.5067685504, 21.0763797426))
            Line((11.5067685504, 21.0763797426), (12.5461114665, 18.6354677381))
            ThreePointArc((12.5461114665, 18.6354677381), (13.0542115814, 17.9873971595), (13.8186255861, 17.6810763618))
        make_face()
        with BuildLine():
            Line((-11.927435173, 10.8049031515), (-12.6390919528, 8.1489638888))
            Line((-12.6390919565, 8.1489638901), (-9.9831526938, 8.8606206699))
            ThreePointArc((-9.9831526938, 8.8606206699), (-9.2714959087, 9.2714959076), (-8.8606206755, 9.9831526953))
            Line((-8.8606206699, 9.9831526938), (-8.1489638914, 12.6390919517))
            Line((-8.1489638944, 12.6390919548), (-10.8049031524, 11.9274351763))
            ThreePointArc((-10.8049031511, 11.9274351713), (-11.516559939, 11.5165599379), (-11.9274351769, 10.8049031526))
        make_face()
        with BuildLine():
            Line((-12.2326247903, -5.3419871867), (-14.5386590897, -3.8444310034))
            Line((-14.5386590936, -3.8444310054), (-14.6825636438, -6.5902933823))
            ThreePointArc((-14.6825636386, -6.5902933825), (-14.5117121122, -7.3940866377), (-13.9618537201, -8.0047662509))
            Line((-13.961853718, -8.0047662476), (-11.6558194144, -9.5023224336))
            Line((-11.6558194167, -9.5023224367), (-11.5119148663, -6.7564600549))
            ThreePointArc((-11.5119148663, -6.7564600549), (-11.6827663979, -5.9526668011), (-12.2326247934, -5.3419871916))
        make_face()
        with BuildLine():
            Line((1.3004427779, -13.2846823426), (-0.8364215769, -15.0150809792))
            Line((-0.8364215762, -15.0150809835), (1.7305797786, -16.0004604823))
            ThreePointArc((1.7305797804, -16.0004604775), (2.5478286188, -16.0863567958), (3.2985350319, -15.7521207676))
            Line((3.2985350294, -15.7521207646), (5.435399388, -14.0217221248))
            Line((5.4353993902, -14.021722128), (2.8683980308, -13.0363426274))
            ThreePointArc((2.8683980308, -13.0363426274), (2.0511491922, -12.9504463144), (1.3004427815, -13.2846823471))
        make_face()
        with BuildLine():
            Line((13.0363426274, -2.8683980308), (14.0217221262, -5.4353993856))
            Line((14.0217221306, -5.4353993863), (15.7521207672, -3.2985350315))
            ThreePointArc((15.7521207631, -3.2985350282), (16.0863567961, -2.5478286172), (16.0004604829, -1.7305797784))
            Line((16.0004604792, -1.7305797798), (15.0150809786, 0.8364215797))
            Line((15.0150809823, 0.8364215808), (13.2846823426, -1.3004427779))
            ThreePointArc((13.2846823426, -1.3004427779), (12.9504463147, -2.0511491907), (13.0363426328, -2.8683980287))
        make_face()
        with BuildLine():
            Line((6.7564600549, 11.5119148663), (9.5023224318, 11.6558194165))
            Line((9.5023224337, 11.6558194204), (8.0047662504, 13.9618537198))
            ThreePointArc((8.0047662461, 13.961853717), (7.3940866364, 14.5117121129), (6.5902933822, 14.6825636444))
            Line((6.5902933824, 14.6825636404), (3.8444310006, 14.53865909))
            Line((3.8444310007, 14.5386590939), (5.3419871867, 12.2326247903))
            ThreePointArc((5.3419871867, 12.2326247903), (5.9526667997, 11.6827663986), (6.7564600546, 11.5119148721))
        make_face()
    extrude(amount=F4_DEPTH)

    # F5
    f5_edges = [f1.edges().sort_by_distance(p)[0] for p in [
        (-29.21, 0, 0),
    ]]
    chamfer(f5_edges, length=F5_SIZE, length2=F5_SIZE2)


solid = f1.part
